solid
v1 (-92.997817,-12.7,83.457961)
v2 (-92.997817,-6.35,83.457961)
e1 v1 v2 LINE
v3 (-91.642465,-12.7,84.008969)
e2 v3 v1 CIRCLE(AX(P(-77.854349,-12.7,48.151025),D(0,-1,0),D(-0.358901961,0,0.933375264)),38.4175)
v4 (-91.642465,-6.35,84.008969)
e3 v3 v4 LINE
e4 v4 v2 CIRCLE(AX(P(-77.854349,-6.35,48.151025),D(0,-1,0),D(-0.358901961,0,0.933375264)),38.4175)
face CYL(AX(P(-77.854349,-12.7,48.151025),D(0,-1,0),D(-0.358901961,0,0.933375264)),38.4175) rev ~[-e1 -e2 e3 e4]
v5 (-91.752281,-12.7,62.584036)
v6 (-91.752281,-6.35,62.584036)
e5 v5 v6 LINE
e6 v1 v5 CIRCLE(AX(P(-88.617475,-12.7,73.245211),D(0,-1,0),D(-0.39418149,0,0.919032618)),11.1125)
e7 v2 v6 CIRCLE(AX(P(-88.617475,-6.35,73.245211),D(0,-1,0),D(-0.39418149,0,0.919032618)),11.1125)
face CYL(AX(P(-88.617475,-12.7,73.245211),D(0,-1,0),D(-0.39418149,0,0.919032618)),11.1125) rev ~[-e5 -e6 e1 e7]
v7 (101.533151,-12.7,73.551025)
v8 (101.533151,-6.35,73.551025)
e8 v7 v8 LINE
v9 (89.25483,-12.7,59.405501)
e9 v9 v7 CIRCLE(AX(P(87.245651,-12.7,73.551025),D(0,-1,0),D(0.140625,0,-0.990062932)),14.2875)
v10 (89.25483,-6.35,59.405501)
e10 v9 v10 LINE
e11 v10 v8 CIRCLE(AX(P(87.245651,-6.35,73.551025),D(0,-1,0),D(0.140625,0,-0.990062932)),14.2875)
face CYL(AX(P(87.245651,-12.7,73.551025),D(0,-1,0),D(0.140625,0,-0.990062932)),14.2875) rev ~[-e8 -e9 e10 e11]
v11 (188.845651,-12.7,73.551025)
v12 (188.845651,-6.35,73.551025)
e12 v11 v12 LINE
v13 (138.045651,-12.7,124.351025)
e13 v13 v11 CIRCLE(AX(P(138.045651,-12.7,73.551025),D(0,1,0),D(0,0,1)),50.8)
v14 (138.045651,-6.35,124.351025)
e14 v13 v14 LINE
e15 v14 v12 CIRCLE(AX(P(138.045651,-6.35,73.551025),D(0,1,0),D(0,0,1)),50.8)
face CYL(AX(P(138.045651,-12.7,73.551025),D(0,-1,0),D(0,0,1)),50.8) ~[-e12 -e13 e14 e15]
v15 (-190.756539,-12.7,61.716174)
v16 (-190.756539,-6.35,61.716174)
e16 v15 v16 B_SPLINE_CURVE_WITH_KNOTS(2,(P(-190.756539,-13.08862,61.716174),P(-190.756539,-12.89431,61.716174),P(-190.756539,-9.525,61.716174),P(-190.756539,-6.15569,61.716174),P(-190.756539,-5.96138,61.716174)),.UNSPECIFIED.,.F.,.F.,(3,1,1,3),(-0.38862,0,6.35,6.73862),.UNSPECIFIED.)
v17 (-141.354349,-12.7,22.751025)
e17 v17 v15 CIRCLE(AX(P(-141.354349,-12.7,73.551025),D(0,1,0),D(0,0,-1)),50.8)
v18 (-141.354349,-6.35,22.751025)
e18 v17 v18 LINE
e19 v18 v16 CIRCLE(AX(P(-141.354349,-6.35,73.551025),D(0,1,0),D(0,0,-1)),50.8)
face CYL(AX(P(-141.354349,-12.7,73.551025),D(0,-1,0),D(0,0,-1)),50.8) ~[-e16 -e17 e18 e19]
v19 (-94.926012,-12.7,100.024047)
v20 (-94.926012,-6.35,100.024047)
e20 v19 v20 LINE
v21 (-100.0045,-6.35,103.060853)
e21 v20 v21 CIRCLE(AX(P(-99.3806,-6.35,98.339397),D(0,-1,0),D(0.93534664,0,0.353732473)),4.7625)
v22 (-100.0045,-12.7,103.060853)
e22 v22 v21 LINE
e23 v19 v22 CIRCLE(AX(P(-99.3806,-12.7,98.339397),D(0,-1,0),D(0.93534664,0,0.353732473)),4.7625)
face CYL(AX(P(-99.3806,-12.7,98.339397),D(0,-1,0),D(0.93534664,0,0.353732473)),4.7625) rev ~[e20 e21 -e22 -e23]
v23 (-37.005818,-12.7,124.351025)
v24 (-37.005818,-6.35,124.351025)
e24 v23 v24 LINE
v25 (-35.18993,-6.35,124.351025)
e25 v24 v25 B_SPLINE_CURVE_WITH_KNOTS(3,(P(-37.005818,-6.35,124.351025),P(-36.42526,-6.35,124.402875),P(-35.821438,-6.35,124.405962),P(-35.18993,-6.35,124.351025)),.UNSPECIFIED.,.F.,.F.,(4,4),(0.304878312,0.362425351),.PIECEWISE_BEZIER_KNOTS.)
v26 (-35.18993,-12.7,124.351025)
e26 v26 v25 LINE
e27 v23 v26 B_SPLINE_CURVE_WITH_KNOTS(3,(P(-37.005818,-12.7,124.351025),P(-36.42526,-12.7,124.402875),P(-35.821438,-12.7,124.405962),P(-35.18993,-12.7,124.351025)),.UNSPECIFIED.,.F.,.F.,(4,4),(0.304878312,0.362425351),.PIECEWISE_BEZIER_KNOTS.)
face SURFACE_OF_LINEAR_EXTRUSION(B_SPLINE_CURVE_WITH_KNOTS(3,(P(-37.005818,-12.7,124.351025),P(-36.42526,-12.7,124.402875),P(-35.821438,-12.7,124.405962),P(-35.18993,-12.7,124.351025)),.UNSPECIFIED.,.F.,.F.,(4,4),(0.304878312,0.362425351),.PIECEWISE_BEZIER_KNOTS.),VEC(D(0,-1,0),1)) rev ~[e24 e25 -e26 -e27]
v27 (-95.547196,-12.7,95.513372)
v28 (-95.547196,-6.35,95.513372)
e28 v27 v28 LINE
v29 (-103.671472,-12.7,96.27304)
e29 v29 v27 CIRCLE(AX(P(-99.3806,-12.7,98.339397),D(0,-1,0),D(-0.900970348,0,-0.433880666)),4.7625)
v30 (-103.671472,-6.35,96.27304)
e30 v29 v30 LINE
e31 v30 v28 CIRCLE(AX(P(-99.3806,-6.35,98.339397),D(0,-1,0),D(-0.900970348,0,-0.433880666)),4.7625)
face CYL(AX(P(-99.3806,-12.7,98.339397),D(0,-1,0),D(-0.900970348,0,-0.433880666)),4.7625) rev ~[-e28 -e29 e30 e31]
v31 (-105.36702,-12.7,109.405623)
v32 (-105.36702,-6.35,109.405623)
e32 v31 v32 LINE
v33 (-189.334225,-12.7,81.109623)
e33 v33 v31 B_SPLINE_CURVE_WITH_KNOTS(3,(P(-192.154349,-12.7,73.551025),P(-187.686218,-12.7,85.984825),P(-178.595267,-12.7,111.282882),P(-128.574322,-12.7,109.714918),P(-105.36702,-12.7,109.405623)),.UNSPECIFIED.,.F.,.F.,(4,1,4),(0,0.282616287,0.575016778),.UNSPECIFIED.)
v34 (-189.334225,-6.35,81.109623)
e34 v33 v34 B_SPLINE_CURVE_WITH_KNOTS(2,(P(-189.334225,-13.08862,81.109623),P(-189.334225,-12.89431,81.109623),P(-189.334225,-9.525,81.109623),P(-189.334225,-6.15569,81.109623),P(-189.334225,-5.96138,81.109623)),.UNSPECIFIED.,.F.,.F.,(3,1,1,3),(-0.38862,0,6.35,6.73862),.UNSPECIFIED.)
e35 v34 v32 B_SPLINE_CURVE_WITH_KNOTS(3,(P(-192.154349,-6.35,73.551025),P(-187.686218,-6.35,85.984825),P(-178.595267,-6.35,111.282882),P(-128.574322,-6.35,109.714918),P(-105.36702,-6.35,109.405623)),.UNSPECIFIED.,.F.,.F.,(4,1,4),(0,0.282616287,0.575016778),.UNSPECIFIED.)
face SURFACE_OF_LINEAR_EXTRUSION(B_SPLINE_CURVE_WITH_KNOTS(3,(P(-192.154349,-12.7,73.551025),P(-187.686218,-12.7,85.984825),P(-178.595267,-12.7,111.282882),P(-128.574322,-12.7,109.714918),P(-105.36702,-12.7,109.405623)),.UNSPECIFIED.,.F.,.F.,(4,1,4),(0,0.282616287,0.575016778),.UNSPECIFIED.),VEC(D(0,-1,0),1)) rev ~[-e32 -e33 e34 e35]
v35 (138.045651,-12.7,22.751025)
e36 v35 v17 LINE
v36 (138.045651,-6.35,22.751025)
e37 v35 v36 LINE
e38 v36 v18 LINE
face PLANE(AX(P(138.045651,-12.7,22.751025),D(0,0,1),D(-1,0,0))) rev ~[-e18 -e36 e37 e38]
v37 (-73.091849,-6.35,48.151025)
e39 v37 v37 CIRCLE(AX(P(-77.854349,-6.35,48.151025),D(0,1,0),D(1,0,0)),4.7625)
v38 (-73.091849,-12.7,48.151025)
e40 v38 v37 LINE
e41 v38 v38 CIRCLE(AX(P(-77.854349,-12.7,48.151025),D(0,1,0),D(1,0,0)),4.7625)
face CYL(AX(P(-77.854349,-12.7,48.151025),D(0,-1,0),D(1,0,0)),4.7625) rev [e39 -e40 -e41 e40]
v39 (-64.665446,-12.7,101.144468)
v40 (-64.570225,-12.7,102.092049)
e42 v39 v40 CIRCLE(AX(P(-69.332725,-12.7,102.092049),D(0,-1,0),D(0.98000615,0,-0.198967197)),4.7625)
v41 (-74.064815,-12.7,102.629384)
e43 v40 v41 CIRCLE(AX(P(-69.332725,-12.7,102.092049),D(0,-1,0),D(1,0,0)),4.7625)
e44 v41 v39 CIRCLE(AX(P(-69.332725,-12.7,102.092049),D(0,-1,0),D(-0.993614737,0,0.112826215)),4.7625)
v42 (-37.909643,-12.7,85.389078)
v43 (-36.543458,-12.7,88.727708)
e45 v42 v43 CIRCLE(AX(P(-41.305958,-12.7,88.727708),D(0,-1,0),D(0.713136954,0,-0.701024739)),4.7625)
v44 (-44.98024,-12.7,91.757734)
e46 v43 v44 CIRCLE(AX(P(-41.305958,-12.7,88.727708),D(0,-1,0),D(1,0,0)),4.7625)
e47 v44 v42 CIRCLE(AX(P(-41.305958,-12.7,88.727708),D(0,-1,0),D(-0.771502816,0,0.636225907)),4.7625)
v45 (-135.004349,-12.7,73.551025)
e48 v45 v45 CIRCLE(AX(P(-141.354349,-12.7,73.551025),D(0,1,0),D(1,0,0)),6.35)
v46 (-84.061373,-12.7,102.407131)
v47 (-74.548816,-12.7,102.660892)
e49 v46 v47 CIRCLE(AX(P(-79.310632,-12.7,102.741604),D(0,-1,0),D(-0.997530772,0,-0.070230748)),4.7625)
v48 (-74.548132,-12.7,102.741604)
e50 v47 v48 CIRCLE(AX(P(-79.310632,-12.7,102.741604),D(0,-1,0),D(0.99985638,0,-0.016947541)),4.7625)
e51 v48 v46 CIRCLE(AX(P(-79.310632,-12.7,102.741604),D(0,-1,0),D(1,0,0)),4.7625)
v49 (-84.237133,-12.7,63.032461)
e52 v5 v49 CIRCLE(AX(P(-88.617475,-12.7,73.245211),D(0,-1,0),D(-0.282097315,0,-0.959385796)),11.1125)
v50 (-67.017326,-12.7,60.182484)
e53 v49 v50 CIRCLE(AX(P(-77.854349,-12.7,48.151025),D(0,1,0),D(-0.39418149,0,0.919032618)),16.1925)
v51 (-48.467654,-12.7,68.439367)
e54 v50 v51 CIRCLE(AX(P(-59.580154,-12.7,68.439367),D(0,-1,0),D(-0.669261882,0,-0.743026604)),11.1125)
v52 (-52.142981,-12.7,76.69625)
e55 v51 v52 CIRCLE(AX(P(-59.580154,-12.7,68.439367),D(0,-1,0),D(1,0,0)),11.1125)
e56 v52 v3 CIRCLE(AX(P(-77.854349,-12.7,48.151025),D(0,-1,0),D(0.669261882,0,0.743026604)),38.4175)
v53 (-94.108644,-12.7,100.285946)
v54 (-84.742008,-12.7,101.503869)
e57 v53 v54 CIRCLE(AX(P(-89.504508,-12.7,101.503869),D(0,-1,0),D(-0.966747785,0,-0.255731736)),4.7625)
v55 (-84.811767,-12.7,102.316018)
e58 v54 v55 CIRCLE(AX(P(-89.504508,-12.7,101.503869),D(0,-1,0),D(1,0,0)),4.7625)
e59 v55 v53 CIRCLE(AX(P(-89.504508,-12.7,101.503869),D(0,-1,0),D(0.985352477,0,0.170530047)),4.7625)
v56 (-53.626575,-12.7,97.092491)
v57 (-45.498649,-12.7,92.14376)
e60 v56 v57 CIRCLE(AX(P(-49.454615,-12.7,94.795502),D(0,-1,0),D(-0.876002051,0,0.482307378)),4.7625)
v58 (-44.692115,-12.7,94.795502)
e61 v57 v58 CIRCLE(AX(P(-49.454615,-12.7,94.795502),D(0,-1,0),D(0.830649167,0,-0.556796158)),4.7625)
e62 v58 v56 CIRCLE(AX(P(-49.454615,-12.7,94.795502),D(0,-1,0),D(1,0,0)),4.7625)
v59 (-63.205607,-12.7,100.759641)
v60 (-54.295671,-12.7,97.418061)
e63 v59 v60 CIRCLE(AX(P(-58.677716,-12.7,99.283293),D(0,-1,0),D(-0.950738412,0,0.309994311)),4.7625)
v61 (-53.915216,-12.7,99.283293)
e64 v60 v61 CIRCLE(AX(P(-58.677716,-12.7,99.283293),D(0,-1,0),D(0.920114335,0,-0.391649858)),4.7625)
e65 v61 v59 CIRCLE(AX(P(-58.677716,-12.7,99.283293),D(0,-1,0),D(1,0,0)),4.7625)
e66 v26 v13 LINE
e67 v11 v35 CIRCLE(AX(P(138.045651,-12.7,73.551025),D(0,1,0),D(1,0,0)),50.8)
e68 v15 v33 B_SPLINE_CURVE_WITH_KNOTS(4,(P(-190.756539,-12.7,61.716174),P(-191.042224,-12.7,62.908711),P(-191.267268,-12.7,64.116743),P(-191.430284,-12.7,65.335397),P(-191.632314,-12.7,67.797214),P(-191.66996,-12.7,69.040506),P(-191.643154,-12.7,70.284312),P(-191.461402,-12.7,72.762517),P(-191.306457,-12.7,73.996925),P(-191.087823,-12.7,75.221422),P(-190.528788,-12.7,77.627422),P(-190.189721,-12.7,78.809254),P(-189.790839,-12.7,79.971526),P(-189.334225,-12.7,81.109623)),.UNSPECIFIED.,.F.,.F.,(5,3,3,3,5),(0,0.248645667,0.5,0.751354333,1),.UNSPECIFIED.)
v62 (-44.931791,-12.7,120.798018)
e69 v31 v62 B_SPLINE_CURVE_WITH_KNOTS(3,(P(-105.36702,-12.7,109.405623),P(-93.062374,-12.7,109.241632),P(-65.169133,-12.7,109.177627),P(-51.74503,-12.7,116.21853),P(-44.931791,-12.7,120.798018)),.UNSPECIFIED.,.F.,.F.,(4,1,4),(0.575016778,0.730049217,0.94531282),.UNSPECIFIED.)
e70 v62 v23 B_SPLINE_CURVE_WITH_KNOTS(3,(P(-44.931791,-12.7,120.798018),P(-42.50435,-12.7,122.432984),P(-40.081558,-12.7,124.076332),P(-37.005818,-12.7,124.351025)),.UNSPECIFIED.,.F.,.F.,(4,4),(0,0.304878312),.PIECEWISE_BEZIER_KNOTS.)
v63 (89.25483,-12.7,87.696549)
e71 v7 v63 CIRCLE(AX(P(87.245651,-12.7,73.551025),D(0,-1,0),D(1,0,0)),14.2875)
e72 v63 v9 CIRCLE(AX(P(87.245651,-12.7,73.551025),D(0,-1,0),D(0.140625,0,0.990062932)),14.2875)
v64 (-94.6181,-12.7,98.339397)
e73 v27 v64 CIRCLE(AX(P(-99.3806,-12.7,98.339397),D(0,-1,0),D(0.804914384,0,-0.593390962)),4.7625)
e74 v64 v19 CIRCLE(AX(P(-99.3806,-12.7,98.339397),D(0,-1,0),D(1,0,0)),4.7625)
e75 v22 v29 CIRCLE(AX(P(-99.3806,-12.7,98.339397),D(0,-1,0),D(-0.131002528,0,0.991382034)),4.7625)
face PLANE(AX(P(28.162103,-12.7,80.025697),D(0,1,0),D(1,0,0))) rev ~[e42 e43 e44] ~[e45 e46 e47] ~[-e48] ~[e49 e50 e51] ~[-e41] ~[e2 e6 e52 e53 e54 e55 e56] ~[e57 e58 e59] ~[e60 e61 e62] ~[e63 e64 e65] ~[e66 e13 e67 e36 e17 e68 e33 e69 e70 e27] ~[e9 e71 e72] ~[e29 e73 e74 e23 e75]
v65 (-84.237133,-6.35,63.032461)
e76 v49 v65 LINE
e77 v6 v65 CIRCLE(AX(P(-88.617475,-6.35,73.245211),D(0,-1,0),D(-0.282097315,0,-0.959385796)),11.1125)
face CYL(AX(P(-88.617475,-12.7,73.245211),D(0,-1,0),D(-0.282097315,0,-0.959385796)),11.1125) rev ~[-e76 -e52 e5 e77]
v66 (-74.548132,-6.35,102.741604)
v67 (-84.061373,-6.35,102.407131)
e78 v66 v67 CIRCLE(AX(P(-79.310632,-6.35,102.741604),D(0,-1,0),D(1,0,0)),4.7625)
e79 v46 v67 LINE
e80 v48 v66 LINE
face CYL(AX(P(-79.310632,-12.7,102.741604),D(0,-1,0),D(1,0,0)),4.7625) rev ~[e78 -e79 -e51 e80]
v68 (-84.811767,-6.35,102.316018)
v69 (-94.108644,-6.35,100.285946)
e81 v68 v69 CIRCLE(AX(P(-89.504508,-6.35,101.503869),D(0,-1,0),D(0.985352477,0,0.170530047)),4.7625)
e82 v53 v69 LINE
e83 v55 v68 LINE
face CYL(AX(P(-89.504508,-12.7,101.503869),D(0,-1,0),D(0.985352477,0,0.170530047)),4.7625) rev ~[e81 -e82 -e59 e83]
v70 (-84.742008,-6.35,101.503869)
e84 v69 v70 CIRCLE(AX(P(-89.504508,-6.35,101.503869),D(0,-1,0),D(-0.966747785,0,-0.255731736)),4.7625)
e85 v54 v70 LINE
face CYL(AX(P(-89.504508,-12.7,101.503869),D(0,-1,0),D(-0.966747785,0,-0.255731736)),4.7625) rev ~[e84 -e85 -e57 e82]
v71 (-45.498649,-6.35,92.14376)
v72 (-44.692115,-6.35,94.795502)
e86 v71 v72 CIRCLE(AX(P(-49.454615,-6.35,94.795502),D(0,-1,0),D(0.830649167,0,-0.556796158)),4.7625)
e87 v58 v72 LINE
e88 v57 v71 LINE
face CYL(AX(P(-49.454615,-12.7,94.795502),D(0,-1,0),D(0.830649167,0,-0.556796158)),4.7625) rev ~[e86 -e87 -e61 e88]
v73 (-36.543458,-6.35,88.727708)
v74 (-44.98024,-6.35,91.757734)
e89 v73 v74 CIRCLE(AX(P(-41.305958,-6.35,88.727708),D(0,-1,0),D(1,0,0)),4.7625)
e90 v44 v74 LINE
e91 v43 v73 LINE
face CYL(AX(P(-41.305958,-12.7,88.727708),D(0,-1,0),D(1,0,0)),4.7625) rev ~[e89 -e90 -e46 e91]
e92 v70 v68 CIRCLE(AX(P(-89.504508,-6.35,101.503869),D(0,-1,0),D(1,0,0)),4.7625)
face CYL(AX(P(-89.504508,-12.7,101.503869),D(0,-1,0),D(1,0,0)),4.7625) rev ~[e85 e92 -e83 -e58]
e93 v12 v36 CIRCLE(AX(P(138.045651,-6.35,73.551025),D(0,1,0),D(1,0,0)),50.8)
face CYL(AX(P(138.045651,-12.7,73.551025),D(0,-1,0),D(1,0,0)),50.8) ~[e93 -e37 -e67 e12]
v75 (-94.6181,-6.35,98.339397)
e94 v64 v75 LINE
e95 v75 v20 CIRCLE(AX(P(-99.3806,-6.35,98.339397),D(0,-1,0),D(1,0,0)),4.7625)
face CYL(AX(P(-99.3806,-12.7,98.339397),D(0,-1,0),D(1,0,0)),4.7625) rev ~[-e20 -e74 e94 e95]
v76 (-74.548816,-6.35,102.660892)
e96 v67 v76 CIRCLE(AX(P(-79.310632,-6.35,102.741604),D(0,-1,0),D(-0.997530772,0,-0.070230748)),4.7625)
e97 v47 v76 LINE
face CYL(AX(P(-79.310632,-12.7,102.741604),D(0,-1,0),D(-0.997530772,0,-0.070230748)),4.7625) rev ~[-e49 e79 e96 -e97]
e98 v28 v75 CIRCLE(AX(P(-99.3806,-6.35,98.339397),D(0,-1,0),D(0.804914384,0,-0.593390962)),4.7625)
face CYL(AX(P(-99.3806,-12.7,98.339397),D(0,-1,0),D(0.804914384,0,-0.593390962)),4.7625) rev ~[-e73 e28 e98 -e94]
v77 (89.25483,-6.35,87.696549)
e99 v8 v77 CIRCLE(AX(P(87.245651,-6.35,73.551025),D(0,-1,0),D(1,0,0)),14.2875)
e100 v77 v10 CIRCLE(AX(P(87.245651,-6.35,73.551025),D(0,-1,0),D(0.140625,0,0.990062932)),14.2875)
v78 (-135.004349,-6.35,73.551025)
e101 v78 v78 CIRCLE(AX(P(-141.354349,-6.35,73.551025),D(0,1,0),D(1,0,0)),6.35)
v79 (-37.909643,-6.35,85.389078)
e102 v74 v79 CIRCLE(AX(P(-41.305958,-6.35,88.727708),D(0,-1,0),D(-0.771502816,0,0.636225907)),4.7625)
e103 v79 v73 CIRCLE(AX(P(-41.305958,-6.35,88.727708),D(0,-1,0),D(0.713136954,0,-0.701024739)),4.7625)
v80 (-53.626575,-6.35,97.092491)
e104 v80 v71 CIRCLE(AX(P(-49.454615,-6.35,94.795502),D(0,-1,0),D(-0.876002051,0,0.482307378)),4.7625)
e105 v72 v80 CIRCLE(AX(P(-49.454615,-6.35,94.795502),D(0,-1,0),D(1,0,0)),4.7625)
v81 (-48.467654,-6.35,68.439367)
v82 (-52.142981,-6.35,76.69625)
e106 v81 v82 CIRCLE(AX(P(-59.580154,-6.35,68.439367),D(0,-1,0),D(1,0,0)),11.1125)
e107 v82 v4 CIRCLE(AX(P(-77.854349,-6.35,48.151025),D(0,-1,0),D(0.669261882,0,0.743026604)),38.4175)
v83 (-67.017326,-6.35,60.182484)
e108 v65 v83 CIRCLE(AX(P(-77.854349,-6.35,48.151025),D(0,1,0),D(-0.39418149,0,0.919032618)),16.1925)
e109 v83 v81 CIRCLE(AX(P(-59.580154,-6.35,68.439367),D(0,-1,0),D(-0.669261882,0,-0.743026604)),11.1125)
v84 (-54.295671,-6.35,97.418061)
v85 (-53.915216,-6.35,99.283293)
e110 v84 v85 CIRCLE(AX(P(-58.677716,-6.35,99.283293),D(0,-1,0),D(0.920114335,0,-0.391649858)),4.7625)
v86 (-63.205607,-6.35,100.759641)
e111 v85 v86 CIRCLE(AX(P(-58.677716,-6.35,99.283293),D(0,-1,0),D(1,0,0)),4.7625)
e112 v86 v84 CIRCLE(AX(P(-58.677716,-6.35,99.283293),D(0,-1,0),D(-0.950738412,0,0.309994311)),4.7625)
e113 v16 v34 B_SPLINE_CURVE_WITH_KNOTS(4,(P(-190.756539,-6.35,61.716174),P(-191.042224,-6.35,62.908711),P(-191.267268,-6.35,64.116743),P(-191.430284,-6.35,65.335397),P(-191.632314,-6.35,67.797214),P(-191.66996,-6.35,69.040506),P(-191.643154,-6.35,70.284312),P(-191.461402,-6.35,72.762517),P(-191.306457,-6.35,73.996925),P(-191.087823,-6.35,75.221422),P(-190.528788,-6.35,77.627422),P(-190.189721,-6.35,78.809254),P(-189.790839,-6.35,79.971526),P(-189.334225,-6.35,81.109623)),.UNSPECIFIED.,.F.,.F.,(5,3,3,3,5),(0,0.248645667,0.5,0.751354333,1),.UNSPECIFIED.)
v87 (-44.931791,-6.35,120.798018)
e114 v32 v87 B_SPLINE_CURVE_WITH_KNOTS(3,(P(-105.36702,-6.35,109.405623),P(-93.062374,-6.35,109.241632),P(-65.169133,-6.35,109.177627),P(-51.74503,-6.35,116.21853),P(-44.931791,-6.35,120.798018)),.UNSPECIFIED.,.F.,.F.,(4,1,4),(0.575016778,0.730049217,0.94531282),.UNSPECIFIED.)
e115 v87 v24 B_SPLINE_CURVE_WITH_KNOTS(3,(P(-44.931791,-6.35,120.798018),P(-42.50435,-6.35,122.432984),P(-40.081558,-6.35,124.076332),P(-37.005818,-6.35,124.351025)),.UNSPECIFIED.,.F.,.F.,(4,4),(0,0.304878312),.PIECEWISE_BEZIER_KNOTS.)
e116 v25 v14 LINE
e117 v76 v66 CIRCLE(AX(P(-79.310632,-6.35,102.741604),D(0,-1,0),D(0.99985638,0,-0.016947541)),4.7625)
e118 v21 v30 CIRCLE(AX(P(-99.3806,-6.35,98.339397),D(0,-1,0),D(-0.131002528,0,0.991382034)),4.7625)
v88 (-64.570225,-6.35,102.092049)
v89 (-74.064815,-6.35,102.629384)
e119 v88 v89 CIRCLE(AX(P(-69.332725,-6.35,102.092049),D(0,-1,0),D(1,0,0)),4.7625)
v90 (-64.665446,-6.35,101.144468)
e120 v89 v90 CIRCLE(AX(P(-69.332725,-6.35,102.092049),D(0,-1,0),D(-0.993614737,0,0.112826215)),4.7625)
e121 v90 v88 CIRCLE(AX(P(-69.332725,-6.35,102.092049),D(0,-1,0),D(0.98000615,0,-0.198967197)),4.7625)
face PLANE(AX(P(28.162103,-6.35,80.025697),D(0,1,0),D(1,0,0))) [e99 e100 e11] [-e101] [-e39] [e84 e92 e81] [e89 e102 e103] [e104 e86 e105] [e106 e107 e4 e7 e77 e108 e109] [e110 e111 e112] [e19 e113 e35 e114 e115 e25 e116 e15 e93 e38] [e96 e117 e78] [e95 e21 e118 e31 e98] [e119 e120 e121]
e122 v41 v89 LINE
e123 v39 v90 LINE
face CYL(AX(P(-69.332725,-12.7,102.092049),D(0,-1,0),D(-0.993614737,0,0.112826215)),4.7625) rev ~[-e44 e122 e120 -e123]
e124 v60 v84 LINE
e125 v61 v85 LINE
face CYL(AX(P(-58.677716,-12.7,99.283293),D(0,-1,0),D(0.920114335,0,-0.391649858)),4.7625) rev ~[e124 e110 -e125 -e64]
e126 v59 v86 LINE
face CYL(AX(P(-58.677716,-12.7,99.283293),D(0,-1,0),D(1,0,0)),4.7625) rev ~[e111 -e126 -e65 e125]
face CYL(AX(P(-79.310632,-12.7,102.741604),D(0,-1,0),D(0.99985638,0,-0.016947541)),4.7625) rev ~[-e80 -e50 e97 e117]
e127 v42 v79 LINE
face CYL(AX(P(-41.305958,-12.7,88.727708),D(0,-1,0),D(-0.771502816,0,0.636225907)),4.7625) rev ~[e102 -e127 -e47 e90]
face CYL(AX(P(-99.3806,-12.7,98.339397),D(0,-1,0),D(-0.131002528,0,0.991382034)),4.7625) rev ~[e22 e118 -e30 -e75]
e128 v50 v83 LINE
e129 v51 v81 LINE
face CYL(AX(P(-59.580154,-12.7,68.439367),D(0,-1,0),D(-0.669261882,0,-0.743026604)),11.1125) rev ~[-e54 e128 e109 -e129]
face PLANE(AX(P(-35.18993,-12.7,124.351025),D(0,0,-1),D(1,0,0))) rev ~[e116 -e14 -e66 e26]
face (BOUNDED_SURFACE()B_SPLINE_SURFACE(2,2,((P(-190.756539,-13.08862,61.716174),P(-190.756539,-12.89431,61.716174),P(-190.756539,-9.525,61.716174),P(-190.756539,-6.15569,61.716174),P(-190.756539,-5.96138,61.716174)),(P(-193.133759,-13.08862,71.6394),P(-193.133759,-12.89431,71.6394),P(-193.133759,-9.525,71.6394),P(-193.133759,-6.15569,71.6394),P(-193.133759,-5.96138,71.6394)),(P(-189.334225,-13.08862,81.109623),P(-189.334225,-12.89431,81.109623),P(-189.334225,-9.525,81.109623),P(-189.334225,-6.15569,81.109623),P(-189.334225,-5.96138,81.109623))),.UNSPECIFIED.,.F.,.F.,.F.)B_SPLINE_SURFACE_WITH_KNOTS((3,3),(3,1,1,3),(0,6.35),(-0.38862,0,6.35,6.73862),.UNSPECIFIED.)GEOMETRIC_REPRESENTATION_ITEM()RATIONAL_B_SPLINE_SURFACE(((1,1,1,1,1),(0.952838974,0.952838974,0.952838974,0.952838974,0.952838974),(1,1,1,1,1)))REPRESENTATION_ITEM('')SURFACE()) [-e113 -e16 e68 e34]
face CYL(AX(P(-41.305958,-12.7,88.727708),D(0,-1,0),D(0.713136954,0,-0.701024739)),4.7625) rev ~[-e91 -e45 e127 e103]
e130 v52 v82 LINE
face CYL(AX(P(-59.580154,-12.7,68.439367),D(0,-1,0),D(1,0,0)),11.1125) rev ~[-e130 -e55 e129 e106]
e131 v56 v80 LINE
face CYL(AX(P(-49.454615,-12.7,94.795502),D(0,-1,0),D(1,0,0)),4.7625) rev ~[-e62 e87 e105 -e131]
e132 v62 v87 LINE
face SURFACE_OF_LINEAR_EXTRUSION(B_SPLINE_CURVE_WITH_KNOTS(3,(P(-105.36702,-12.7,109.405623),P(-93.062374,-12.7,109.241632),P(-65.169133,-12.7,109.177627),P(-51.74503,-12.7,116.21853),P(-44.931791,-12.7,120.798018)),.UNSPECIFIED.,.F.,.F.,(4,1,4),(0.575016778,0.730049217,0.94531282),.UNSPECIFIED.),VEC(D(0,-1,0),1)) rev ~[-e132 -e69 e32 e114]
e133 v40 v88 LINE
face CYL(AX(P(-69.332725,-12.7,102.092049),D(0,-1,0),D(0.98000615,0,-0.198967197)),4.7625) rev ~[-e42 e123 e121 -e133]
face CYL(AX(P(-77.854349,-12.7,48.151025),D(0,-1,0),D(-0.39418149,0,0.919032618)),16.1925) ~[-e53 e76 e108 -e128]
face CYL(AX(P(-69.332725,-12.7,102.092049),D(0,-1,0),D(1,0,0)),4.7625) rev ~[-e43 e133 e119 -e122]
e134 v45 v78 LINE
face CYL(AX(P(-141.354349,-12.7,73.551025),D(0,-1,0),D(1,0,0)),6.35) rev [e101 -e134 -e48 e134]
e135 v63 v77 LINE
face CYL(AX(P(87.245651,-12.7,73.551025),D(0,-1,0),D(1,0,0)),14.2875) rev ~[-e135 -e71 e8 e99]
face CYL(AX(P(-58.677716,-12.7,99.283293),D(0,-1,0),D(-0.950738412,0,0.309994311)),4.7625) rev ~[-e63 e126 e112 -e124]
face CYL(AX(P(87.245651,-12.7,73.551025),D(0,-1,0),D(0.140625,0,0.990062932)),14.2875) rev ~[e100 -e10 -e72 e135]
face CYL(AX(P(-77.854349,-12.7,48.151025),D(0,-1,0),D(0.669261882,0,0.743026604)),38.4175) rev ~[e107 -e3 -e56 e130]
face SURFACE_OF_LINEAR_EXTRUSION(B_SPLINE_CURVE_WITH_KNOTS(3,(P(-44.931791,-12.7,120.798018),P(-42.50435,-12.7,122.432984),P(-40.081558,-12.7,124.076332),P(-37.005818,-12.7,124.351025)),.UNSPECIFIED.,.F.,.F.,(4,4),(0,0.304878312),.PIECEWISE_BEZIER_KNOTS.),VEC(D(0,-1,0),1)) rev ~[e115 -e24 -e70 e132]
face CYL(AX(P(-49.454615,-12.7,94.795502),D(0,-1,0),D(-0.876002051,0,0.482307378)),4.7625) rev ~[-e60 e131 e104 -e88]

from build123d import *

# Parameters (mm, degrees)
F0_R     = 6.35
F0_R_2   = 4.7625
F1_DEPTH = 6.35
F2_R     = 32.0379747342
F3_ANGLE = 180


with BuildPart() as f1:
    # F0 (on Front) → F1 (new body)
    with BuildSketch(Plane.XZ):
        with BuildLine():
            add(Edge.make_bspline(
                [(-44.9317906939, -75.2959670142), (-42.504350489, -76.9309330496), (-40.0815580843, -78.574281615), (-37.0058182453, -78.848974732)],
                knots=[0, 0, 0, 0, 0.304878312, 0.304878312, 0.304878312, 0.304878312], degree=3))
            Line((-37.0058182453, -78.848974732), (-35.1899303496, -78.848974732))
            Line((-35.1899303496, -78.848974732), (138.0456507325, -78.848974732))
            ThreePointArc((138.0456507325, -78.848974732), (107.5329699783, -68.6644436224), (89.25483042, -42.1944988733))
            ThreePointArc((89.25483042, -42.1944988733), (72.9581507325, -28.048974732), (89.25483042, -13.9034505906))
            ThreePointArc((89.25483042, -13.9034505906), (107.5329699783, 12.5664941585), (138.0456507325, 22.751025268))
            Line((138.0456507325, 22.751025268), (-29.5108688384, 22.751025268))
            ThreePointArc((-29.5108688384, 22.751025268), (-23.7287326375, -9.9063657522), (-37.9096431739, -39.8870272468))
            ThreePointArc((-37.9096431739, -39.8870272468), (-36.8982172715, -41.4219866867), (-36.5434579184, -43.2256575657))
            ThreePointArc((-36.5434579184, -43.2256575657), (-39.6962005674, -47.7078542952), (-44.9802400795, -46.2556834486))
            ThreePointArc((-44.9802400795, -46.2556834486), (-45.2388732076, -46.4494635579), (-45.4986485664, -46.6417097247))
            ThreePointArc((-45.4986485664, -46.6417097247), (-44.8982077868, -47.9076096174), (-44.6921152233, -49.2934514277))
            ThreePointArc((-44.6921152233, -49.2934514277), (-48.2687720926, -53.9059542537), (-53.62657499, -51.5904403165))
            ThreePointArc((-53.62657499, -51.5904403165), (-53.9605685551, -51.7543648971), (-54.2956711641, -51.9160102225))
            ThreePointArc((-54.2956711641, -51.9160102225), (-54.0112987886, -52.8294235617), (-53.9152156835, -53.781242669))
            ThreePointArc((-53.9152156835, -53.781242669), (-57.9302793656, -58.484724911), (-63.2056073689, -55.2575905738))
            ThreePointArc((-63.2056073689, -55.2575905738), (-63.9341966135, -55.4550487206), (-64.6654456429, -55.6424169789))
            ThreePointArc((-64.6654456429, -55.6424169789), (-64.5940899046, -56.1138214868), (-64.5702249334, -56.589998255))
            ThreePointArc((-64.5702249334, -56.589998255), (-69.063627601, -61.3448897233), (-74.0648151174, -57.1273331041))
            ThreePointArc((-74.0648151174, -57.1273331041), (-74.3067807591, -57.1436245398), (-74.5488163621, -57.1588412904))
            ThreePointArc((-74.5488163621, -57.1588412904), (-74.5483033729, -57.1991961718), (-74.5481323724, -57.2395539515))
            ThreePointArc((-74.5481323724, -57.2395539515), (-79.4779726733, -61.9991131195), (-84.0613726764, -56.9050800143))
            ThreePointArc((-84.0613726764, -56.9050800143), (-84.4367274692, -56.8608221199), (-84.811766966, -56.8139674761))
            ThreePointArc((-84.811766966, -56.8139674761), (-90.5205103625, -60.6546823767), (-94.1086444598, -54.7838957332))
            ThreePointArc((-94.1086444598, -54.7838957332), (-94.5178427862, -54.6545521612), (-94.926012036, -54.5219969142))
            ThreePointArc((-94.926012036, -54.5219969142), (-96.9364048452, -56.9248041814), (-100.0044999501, -57.5588029495))
            ThreePointArc((-100.0044999501, -57.5588029495), (-102.555846588, -60.8409888487), (-105.3670203015, -63.9035721205))
            add(Edge.make_bspline(
                [(-105.3670203015, -63.9035721205), (-93.0623740032, -63.7395817927), (-65.1691332268, -63.6755764129), (-51.7450297958, -70.7164798851), (-44.9317906939, -75.2959670142)],
                knots=[0.5750167778, 0.5750167778, 0.5750167778, 0.5750167778, 0.7300492168, 0.9453128196, 0.9453128196, 0.9453128196, 0.9453128196], degree=3))
        make_face()
        with BuildLine():
            Line((-35.1899303496, -78.848974732), (-37.0058182453, -78.848974732))
            add(Edge.make_bspline(
                [(-37.0058182453, -78.848974732), (-36.4252596683, -78.9008241905), (-35.8214378024, -78.9039110297), (-35.1899303496, -78.848974732)],
                knots=[0.304878312, 0.304878312, 0.304878312, 0.304878312, 0.3624253505, 0.3624253505, 0.3624253505, 0.3624253505], degree=3))
        make_face()
        with BuildLine():
            ThreePointArc((89.25483042, -42.1944988733), (107.5329699783, -68.6644436224), (138.0456507325, -78.848974732))
            ThreePointArc((138.0456507325, -78.848974732), (173.9666752168, -63.9699992163), (188.8456507325, -28.048974732))
            ThreePointArc((188.8456507325, -28.048974732), (173.9666752168, 7.8720497523), (138.0456507325, 22.751025268))
            ThreePointArc((138.0456507325, 22.751025268), (107.5329699783, 12.5664941585), (89.25483042, -13.9034505906))
            ThreePointArc((89.25483042, -13.9034505906), (98.0354331918, -18.6834394706), (101.5331507325, -28.048974732))
            ThreePointArc((101.5331507325, -28.048974732), (98.0354331918, -37.4145099934), (89.25483042, -42.1944988733))
        make_face()
        with BuildLine():
            add(Edge.make_bspline(
                [(-192.1543492675, -28.048974732), (-187.686217537, -40.4827740106), (-178.5952669037, -65.7808319564), (-128.5743222399, -64.2128677281), (-105.3670203015, -63.9035721205)],
                knots=[0, 0, 0, 0, 0.2826162867, 0.5750167778, 0.5750167778, 0.5750167778, 0.5750167778], degree=3))
            ThreePointArc((-105.3670203015, -63.9035721205), (-102.555846588, -60.8409888487), (-100.0044999501, -57.5588029495))
            ThreePointArc((-100.0044999501, -57.5588029495), (-103.5707491501, -55.1009846293), (-103.6714716912, -50.7709893382))
            ThreePointArc((-103.6714716912, -50.7709893382), (-99.8239881538, -48.0955305832), (-95.5471956554, -50.0113215546))
            ThreePointArc((-95.5471956554, -50.0113215546), (-93.2496774257, -44.3762692721), (-91.6424653425, -38.5069189195))
            ThreePointArc((-91.6424653425, -38.5069189195), (-92.322764275, -38.2378672888), (-92.9978166414, -37.9559103416))
            ThreePointArc((-92.9978166414, -37.9559103416), (-99.7102448029, -27.0812609993), (-91.7522812468, -17.0819857164))
            ThreePointArc((-91.7522812468, -17.0819857164), (-104.2898917661, 6.6910020977), (-127.2022100568, 20.7399272413))
            ThreePointArc((-127.2022100568, 20.7399272413), (-134.2071897004, 22.2457378144), (-141.3543492675, 22.751025268))
            ThreePointArc((-141.3543492675, 22.751025268), (-177.2753737518, 7.8720497523), (-192.1543492675, -28.048974732))
        make_face()
        with Locations((-141.3543492675, -28.048974732)):
            Circle(F0_R, mode=Mode.SUBTRACT)
        with BuildLine():
            ThreePointArc((-94.6181004106, -52.8373460118), (-94.6957106902, -53.6936254977), (-94.926012036, -54.5219969142))
            ThreePointArc((-94.926012036, -54.5219969142), (-94.5178427862, -54.6545521612), (-94.1086444598, -54.7838957332))
            ThreePointArc((-94.1086444598, -54.7838957332), (-88.8904205988, -51.2790749892), (-84.7420081356, -56.0018181271))
            ThreePointArc((-84.7420081356, -56.0018181271), (-84.7594798917, -56.4093880167), (-84.811766966, -56.8139674761))
            ThreePointArc((-84.811766966, -56.8139674761), (-84.4367274692, -56.8608221199), (-84.0613726764, -56.9050800143))
            ThreePointArc((-84.0613726764, -56.9050800143), (-79.1836309389, -52.4787476242), (-74.5488163621, -57.1588412904))
            ThreePointArc((-74.5488163621, -57.1588412904), (-74.3067807591, -57.1436245398), (-74.0648151174, -57.1273331041))
            ThreePointArc((-74.0648151174, -57.1273331041), (-70.0758898462, -51.8858392268), (-64.6654456429, -55.6424169789))
            ThreePointArc((-64.6654456429, -55.6424169789), (-63.9341966135, -55.4550487206), (-63.2056073689, -55.2575905738))
            ThreePointArc((-63.2056073689, -55.2575905738), (-60.3500965193, -49.3220332559), (-54.2956711641, -51.9160102225))
            ThreePointArc((-54.2956711641, -51.9160102225), (-53.9605685551, -51.7543648971), (-53.62657499, -51.5904403165))
            ThreePointArc((-53.62657499, -51.5904403165), (-51.9313362155, -45.2256191577), (-45.4986485664, -46.6417097247))
            ThreePointArc((-45.4986485664, -46.6417097247), (-45.2388732076, -46.4494635579), (-44.9802400795, -46.2556834486))
            ThreePointArc((-44.9802400795, -46.2556834486), (-44.493317629, -39.6869933651), (-37.9096431739, -39.8870272468))
            ThreePointArc((-37.9096431739, -39.8870272468), (-23.7287326375, -9.9063657522), (-29.5108688384, 22.751025268))
            Line((-29.5108688384, 22.751025268), (-126.1978296966, 22.751025268))
            ThreePointArc((-126.1978296966, 22.751025268), (-126.7103690202, 21.7506448125), (-127.2022100568, 20.7399272413))
            ThreePointArc((-127.2022100568, 20.7399272413), (-104.2898917661, 6.6910020977), (-91.7522812468, -17.0819857164))
            ThreePointArc((-91.7522812468, -17.0819857164), (-87.9555754664, -16.6503904081), (-84.2371330367, -17.5304104022))
            ThreePointArc((-84.2371330367, -17.5304104022), (-75.2103646617, -18.6241555339), (-67.0173262512, -14.6804330141))
            ThreePointArc((-67.0173262512, -14.6804330141), (-55.0611893817, -12.7851430462), (-48.4676535929, -22.9373161489))
            ThreePointArc((-48.4676535929, -22.9373161489), (-49.4279804902, -27.4562803601), (-52.1429809347, -31.1941992836))
            ThreePointArc((-52.1429809347, -31.1941992836), (-70.8607841381, -40.4245535235), (-91.6424653425, -38.5069189195))
            ThreePointArc((-91.6424653425, -38.5069189195), (-93.2496774257, -44.3762692721), (-95.5471956554, -50.0113215546))
            ThreePointArc((-95.5471956554, -50.0113215546), (-94.8563327131, -51.3499294422), (-94.6181004106, -52.8373460118))
        make_face()
        with Locations((-77.8543492675, -2.648974732)):
            Circle(F0_R_2, mode=Mode.SUBTRACT)
        with BuildLine():
            Line((-126.1978296966, 22.751025268), (-141.3543492675, 22.751025268))
            ThreePointArc((-141.3543492675, 22.751025268), (-134.2071897004, 22.2457378144), (-127.2022100568, 20.7399272413))
            ThreePointArc((-127.2022100568, 20.7399272413), (-126.7103690202, 21.7506448125), (-126.1978296966, 22.751025268))
        make_face()
    extrude(amount=F1_DEPTH)

    # F2
    f2_edges = [f1.edges().sort_by_distance(p)[0] for p in [
        (-192.154349, -3.175, -28.048975),
    ]]
    fillet(f2_edges, radius=F2_R)


with BuildPart() as f1_1:
    # F3: moved
    add(f1.part.rotate(Axis((-1.6543492675, -6.35, 22.751025268), (1, 0, 0)), F3_ANGLE))


solid = f1_1.part
